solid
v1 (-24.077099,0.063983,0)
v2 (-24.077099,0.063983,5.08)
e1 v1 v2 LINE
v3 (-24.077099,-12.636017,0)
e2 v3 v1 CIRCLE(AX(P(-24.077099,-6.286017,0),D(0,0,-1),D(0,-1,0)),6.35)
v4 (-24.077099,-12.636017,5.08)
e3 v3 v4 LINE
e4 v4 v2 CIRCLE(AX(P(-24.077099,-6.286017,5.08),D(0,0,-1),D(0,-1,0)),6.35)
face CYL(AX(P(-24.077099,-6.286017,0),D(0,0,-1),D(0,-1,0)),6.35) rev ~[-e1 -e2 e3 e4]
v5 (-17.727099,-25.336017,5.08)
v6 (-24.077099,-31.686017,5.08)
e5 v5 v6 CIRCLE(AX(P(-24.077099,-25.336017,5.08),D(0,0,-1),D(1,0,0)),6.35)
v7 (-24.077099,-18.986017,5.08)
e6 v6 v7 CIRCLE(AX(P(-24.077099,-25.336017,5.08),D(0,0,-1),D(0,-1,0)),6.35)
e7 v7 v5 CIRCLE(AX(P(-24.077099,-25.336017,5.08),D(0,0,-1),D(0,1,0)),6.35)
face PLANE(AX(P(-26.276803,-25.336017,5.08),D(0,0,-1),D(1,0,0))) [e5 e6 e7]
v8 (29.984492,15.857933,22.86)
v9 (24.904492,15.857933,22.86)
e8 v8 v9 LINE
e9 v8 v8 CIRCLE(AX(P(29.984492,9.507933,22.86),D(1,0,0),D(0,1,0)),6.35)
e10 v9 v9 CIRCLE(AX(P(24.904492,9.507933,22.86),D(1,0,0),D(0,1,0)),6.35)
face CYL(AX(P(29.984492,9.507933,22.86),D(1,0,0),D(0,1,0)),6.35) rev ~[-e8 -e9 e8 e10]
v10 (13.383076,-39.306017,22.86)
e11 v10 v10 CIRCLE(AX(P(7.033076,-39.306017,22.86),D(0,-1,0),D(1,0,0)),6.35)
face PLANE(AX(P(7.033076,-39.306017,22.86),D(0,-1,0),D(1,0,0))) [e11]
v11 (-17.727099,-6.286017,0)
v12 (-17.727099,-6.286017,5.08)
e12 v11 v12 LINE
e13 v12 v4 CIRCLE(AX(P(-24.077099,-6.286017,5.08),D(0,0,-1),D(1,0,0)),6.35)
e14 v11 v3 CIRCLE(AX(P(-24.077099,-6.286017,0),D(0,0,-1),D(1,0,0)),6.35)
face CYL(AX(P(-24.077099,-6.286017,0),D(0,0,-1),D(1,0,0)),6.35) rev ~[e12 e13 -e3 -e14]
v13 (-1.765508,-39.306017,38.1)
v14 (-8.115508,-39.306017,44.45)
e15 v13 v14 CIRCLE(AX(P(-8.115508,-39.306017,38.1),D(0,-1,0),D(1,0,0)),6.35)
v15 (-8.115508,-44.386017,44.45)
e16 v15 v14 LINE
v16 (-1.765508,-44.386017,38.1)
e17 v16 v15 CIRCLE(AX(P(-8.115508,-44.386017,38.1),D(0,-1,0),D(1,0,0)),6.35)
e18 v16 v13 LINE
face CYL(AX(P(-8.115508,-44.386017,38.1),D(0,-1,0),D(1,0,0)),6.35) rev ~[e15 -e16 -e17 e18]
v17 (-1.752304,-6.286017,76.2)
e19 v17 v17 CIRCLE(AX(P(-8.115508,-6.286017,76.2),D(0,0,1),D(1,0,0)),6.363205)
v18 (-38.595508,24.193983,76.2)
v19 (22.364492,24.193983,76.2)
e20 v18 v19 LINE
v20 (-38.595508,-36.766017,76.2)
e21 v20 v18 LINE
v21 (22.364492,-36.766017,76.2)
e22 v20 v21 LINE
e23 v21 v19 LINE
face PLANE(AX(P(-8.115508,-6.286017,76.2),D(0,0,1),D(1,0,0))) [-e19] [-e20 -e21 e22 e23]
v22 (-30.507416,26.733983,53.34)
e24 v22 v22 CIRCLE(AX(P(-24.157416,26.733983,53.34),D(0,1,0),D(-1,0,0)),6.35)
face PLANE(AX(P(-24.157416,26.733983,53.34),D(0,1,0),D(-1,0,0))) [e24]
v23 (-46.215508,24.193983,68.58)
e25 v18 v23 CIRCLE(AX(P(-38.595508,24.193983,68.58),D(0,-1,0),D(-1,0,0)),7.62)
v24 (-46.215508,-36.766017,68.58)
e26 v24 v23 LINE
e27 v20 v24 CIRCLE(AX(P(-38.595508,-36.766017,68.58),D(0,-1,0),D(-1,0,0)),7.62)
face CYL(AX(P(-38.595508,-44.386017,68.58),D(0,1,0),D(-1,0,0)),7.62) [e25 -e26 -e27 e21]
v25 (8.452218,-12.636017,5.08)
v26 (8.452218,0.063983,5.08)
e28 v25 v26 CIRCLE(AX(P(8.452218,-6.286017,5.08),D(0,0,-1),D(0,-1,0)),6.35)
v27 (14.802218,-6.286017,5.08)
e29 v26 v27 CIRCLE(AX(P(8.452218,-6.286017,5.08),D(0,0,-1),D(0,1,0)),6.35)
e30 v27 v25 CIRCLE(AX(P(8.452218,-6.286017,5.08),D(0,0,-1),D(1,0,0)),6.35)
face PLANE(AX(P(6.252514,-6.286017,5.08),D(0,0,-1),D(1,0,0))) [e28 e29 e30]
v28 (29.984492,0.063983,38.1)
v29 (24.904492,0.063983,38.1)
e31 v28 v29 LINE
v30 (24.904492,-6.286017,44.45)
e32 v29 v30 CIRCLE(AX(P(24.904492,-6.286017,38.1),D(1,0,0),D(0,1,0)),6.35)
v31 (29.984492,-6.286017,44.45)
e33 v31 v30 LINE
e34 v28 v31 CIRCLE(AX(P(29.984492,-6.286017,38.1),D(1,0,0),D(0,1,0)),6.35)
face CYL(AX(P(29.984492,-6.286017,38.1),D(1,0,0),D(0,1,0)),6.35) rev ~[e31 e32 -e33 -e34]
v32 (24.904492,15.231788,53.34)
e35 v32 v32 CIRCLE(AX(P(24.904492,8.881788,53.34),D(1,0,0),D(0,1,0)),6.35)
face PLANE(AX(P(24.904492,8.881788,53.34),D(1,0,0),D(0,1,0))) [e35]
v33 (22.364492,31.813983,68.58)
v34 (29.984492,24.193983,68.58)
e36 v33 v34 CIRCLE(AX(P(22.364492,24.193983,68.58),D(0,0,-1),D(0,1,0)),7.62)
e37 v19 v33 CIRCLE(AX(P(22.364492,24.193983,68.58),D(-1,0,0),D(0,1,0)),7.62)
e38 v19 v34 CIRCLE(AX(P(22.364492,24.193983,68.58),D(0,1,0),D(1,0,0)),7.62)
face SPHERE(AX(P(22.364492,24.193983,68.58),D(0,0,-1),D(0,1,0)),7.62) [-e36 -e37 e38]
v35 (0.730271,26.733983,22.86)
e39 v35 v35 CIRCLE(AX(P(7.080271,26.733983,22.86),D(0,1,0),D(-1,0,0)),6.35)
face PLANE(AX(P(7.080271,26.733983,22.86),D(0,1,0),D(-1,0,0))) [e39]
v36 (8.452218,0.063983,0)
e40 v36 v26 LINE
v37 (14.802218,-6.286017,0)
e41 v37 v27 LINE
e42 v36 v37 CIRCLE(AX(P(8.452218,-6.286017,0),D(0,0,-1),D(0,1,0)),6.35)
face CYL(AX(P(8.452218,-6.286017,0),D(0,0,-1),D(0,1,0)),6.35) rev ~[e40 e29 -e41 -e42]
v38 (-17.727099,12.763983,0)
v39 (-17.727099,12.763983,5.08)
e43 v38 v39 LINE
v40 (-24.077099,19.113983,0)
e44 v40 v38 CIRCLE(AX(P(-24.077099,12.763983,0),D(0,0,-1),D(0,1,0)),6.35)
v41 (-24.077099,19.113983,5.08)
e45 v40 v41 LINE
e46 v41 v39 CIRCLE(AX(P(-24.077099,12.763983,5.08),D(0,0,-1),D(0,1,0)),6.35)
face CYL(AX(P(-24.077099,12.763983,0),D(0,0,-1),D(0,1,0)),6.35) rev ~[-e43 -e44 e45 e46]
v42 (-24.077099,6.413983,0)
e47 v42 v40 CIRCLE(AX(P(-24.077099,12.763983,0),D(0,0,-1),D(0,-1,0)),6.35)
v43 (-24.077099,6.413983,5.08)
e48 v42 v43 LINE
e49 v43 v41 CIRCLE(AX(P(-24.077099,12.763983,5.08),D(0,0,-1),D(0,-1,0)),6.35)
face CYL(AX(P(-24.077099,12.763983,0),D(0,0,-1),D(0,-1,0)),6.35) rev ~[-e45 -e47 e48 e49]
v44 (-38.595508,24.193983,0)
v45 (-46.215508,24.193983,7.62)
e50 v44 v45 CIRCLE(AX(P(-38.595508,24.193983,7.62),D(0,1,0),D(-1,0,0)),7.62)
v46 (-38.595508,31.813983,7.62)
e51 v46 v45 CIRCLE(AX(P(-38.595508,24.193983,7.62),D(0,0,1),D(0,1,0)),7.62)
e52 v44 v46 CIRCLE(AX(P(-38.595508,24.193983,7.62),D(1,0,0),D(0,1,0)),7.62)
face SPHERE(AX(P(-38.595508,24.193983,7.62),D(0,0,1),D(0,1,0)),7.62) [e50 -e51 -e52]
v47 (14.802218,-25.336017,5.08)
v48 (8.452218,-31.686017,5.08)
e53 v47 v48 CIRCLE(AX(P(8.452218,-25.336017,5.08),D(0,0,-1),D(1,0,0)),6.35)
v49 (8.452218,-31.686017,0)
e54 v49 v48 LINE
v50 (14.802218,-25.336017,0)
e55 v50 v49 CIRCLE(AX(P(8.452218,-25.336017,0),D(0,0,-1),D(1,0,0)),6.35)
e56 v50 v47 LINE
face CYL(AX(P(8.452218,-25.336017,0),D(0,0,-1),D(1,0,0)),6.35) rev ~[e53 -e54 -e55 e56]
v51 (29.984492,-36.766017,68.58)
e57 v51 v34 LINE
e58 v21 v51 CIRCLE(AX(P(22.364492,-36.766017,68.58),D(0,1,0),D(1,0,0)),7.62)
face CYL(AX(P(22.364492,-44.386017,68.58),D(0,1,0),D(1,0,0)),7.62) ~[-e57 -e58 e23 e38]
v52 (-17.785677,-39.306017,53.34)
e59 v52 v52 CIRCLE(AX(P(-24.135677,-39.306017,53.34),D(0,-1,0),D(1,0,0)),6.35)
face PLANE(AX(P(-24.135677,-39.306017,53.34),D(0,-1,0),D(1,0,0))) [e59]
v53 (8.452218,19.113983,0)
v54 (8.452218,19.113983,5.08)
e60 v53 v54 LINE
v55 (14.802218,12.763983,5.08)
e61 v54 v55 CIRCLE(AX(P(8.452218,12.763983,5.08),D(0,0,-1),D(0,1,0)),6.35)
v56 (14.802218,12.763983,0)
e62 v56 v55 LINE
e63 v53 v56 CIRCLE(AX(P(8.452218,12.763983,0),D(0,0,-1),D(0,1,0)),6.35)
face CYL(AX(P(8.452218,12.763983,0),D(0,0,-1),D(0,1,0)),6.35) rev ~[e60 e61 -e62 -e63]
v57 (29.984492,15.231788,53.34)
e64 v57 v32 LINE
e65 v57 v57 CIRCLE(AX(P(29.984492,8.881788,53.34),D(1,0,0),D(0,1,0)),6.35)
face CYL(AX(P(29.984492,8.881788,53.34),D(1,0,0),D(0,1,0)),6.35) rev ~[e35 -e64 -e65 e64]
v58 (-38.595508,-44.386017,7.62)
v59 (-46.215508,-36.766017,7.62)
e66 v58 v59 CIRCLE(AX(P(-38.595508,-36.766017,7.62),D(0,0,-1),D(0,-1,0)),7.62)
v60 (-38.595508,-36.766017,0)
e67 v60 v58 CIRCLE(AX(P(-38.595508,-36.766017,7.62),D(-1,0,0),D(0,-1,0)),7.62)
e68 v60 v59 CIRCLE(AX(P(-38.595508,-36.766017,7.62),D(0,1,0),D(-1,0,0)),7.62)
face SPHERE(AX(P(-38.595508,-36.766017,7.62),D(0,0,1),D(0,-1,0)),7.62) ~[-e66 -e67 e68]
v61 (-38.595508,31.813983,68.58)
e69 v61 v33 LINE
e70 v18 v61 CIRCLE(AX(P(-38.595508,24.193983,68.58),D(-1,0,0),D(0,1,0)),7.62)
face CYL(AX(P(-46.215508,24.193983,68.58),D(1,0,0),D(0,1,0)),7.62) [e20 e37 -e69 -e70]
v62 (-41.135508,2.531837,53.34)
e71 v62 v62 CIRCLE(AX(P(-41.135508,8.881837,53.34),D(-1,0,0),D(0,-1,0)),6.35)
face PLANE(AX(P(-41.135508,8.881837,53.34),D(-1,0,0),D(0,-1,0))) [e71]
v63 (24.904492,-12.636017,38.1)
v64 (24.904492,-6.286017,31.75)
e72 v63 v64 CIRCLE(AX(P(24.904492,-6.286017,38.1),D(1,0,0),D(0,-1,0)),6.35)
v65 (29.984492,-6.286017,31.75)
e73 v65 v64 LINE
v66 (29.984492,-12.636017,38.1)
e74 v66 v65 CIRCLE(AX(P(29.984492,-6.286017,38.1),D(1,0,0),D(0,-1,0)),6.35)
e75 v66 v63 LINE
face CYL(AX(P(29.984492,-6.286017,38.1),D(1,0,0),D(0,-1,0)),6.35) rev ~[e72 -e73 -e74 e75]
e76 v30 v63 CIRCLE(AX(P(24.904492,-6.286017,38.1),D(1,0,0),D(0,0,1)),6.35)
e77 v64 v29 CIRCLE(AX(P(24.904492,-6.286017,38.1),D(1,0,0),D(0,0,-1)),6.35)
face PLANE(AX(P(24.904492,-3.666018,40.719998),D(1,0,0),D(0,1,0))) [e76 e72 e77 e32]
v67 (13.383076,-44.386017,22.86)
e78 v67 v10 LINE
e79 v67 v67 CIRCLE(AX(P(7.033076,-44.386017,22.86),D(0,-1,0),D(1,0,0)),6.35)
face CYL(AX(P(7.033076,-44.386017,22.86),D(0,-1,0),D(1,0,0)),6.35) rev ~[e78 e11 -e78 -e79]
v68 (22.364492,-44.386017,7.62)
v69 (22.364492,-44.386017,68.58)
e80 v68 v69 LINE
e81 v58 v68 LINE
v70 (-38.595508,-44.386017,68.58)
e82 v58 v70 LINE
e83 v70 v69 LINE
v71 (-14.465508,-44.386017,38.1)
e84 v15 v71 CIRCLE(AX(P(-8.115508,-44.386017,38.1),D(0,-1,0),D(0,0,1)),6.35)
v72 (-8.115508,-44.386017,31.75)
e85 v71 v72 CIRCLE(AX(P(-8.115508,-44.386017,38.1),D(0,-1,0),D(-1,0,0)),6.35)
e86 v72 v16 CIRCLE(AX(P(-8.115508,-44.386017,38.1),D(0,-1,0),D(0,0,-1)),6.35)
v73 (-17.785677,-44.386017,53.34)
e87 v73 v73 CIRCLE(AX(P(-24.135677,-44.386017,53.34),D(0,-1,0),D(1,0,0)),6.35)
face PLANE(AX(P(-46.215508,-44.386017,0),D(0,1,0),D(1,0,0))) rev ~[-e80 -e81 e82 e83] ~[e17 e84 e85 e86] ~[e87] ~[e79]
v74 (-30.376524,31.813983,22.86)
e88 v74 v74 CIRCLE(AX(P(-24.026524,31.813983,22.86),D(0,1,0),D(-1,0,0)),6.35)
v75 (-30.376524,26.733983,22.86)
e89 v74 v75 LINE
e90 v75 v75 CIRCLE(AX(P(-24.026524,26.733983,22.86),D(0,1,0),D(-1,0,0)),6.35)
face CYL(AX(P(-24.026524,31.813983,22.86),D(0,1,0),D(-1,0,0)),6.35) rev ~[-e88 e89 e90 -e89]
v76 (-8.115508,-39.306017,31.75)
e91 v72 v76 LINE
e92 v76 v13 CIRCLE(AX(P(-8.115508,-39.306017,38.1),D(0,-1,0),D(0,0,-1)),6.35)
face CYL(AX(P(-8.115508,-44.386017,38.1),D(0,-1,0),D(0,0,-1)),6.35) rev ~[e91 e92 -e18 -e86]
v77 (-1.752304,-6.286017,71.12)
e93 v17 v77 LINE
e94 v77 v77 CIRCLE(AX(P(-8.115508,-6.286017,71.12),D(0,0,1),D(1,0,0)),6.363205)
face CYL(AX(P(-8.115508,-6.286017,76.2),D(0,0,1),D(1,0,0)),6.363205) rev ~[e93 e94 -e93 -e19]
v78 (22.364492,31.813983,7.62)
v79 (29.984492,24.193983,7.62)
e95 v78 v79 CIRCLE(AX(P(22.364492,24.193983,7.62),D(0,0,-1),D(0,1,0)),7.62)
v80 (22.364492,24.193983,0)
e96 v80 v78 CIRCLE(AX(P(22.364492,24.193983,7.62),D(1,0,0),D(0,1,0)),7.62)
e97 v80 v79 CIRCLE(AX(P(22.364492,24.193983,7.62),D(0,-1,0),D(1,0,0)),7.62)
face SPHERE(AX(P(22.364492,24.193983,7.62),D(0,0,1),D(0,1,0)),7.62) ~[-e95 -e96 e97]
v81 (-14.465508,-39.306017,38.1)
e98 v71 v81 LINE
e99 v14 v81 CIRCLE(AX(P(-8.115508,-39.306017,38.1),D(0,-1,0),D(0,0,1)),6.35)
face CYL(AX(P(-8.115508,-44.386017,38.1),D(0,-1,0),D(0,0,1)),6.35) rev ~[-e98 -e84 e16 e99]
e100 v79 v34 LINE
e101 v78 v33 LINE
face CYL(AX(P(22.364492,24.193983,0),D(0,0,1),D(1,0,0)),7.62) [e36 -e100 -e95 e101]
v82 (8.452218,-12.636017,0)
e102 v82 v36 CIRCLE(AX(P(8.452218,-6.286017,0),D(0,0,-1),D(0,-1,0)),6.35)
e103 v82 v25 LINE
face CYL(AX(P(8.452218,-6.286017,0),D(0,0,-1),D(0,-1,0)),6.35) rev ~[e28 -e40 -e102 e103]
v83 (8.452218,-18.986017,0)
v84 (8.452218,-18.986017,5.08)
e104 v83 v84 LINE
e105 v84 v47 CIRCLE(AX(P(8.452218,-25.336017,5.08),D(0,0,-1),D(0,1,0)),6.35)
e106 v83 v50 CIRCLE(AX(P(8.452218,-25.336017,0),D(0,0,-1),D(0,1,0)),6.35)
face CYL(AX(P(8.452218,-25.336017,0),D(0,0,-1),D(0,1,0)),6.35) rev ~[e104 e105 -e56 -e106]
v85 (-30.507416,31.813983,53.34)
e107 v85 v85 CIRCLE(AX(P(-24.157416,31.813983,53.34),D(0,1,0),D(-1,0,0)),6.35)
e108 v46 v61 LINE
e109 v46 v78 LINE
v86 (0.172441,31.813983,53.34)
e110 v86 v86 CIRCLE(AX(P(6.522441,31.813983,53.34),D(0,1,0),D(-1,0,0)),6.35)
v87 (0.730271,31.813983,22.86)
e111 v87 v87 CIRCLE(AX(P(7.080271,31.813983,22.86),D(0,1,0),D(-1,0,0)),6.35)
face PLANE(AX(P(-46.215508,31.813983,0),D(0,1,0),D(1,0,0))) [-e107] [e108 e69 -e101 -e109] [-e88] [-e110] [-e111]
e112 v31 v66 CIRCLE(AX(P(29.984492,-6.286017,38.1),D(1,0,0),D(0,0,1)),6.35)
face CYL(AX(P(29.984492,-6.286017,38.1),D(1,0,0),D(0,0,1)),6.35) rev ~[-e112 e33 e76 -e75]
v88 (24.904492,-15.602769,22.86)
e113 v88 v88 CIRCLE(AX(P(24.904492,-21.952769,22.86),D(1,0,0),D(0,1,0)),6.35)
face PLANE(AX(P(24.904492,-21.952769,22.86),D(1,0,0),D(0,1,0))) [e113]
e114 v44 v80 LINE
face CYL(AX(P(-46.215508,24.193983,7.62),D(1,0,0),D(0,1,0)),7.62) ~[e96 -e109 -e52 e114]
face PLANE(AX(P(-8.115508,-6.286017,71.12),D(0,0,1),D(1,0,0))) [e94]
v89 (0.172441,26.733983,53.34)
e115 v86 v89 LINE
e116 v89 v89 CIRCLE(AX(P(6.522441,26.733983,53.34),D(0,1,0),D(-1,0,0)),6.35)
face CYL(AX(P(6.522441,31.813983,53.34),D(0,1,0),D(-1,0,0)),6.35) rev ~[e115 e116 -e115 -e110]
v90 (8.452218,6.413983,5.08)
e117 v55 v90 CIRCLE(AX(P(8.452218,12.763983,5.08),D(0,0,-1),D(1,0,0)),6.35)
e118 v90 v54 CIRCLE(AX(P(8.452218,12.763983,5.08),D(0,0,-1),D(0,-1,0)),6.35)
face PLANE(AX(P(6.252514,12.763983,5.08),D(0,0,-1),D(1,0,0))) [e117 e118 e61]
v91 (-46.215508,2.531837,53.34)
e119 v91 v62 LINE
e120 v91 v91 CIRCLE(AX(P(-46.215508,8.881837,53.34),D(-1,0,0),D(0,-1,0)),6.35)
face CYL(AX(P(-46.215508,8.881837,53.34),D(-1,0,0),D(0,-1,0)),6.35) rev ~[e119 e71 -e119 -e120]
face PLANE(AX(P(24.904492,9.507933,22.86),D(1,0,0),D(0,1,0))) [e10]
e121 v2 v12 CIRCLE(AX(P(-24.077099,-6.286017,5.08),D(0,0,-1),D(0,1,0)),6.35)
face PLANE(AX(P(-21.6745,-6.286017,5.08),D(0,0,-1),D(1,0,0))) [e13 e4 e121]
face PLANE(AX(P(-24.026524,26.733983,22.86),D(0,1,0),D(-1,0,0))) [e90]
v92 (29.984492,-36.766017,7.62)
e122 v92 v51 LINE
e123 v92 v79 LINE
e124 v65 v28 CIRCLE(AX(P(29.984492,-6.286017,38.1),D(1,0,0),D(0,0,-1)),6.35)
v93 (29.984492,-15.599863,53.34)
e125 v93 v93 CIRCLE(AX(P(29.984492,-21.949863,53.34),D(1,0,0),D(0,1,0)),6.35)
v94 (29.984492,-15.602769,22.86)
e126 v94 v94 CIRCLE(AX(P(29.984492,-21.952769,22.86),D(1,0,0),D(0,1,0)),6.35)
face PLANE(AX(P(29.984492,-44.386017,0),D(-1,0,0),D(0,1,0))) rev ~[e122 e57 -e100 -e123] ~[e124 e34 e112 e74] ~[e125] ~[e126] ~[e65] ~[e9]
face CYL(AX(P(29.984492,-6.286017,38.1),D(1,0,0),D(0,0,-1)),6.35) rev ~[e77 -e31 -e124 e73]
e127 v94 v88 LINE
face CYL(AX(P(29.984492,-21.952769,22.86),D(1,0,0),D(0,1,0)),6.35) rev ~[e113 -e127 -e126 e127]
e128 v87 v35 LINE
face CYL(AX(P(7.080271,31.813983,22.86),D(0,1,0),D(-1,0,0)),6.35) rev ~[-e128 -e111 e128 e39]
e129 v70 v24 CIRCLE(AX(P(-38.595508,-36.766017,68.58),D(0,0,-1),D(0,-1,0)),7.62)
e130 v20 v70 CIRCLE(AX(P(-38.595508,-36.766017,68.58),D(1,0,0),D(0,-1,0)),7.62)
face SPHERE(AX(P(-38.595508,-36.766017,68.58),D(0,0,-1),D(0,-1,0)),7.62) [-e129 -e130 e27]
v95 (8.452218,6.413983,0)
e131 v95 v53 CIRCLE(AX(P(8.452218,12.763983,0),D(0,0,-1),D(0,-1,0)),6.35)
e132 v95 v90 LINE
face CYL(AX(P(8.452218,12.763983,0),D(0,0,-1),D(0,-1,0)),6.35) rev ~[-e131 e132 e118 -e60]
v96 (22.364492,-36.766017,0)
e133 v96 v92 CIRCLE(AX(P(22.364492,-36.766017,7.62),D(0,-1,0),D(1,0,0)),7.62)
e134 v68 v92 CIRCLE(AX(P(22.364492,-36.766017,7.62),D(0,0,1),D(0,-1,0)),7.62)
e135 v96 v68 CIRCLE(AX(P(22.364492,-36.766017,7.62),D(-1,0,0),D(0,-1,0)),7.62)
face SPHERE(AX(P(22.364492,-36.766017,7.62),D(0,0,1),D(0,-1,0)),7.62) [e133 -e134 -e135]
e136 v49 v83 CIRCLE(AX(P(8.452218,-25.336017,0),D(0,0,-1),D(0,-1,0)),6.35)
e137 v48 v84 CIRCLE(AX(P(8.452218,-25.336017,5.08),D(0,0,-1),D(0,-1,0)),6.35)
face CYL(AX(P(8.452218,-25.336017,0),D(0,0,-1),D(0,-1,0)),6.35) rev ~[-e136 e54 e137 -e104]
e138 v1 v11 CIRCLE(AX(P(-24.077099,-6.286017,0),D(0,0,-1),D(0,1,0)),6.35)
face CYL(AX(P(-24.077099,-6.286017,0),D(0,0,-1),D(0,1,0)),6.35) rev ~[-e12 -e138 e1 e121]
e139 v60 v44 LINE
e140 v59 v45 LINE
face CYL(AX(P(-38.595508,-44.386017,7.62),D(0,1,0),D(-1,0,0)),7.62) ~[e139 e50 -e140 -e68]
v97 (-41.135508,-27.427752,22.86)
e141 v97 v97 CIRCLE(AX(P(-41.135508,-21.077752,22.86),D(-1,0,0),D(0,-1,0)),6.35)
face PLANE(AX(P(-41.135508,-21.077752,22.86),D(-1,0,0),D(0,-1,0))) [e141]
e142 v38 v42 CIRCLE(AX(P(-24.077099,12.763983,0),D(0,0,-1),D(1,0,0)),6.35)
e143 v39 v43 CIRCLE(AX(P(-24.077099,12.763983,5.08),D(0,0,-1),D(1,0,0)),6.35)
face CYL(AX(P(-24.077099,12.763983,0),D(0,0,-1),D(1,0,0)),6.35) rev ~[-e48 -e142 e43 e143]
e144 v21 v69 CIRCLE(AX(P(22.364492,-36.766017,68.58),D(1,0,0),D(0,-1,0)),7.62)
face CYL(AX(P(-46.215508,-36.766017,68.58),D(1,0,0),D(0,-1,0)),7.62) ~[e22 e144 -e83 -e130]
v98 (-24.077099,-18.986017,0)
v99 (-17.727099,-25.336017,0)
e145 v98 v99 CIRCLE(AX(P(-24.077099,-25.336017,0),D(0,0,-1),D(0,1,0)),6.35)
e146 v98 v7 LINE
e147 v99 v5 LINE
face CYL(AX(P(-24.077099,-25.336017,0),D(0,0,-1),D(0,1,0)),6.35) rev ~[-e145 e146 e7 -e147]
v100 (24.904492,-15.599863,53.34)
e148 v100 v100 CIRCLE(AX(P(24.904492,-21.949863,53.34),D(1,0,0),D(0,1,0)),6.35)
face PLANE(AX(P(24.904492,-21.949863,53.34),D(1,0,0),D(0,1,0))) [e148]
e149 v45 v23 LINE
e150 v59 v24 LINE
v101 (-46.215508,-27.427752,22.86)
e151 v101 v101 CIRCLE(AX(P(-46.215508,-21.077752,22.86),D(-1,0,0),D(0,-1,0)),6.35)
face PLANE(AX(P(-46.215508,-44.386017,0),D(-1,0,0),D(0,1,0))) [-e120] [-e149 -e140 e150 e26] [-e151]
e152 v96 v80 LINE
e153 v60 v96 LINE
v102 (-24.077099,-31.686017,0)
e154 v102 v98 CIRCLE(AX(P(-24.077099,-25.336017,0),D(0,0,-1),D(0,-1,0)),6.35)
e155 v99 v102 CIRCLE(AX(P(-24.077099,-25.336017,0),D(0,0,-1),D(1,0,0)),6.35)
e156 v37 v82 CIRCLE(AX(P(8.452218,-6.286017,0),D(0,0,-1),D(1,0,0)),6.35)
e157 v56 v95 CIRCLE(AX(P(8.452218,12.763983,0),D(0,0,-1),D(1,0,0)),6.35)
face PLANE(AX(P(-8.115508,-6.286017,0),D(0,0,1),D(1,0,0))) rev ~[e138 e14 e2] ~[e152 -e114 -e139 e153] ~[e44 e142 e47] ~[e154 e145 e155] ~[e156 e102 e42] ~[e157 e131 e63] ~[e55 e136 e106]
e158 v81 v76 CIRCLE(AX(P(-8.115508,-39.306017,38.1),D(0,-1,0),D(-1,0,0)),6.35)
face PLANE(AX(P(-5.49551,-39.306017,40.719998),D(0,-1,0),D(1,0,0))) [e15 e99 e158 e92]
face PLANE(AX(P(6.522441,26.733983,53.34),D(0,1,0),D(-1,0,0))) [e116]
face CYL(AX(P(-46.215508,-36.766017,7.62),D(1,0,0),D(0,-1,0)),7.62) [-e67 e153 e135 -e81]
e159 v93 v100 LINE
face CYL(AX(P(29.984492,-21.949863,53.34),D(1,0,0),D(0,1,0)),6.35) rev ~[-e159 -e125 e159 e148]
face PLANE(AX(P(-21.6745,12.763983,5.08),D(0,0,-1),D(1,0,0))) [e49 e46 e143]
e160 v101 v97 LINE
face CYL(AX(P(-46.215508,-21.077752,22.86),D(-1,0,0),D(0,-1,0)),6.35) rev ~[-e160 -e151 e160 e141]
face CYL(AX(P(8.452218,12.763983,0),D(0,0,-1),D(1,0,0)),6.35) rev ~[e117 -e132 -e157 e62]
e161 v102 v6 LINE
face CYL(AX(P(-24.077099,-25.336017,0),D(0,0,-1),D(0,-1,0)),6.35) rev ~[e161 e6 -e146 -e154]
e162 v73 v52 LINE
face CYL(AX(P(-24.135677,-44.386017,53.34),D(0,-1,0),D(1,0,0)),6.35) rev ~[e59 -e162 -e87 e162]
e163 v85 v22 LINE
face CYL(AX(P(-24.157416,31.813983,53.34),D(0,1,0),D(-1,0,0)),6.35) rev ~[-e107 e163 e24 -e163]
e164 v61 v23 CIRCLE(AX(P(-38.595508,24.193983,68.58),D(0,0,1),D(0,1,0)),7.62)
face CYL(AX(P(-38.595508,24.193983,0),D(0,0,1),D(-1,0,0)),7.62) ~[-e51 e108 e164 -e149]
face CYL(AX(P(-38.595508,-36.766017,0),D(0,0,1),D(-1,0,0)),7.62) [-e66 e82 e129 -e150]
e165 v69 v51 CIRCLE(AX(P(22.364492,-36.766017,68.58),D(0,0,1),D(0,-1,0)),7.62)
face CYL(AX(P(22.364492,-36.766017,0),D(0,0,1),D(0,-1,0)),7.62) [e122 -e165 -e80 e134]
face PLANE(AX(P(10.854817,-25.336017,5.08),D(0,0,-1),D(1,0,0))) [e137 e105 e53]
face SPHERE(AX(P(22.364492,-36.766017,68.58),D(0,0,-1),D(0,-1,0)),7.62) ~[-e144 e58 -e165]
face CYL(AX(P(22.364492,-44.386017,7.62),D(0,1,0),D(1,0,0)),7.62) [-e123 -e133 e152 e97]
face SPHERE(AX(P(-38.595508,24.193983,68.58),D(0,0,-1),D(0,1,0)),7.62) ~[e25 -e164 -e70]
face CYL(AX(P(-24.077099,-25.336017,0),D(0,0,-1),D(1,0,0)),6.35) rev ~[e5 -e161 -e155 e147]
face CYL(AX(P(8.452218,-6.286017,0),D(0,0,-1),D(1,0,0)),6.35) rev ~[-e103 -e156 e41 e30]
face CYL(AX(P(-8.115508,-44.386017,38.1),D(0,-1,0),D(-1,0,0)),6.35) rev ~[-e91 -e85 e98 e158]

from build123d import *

# Parameters (mm, degrees)
F0_W      = 76.2
F0_H      = 76.2
F1_DEPTH  = 76.2
F2_R      = 7.62
F3_R      = 6.3632045514
F4_DEPTH  = 5.08
F6_DEPTH  = 5.08
F7_DEPTH  = 5.08
F9_R      = 6.35
F10_DEPTH = 5.08
F11_R     = 6.35
F12_DEPTH = 5.08
F13_R     = 6.35
F14_DEPTH = 5.08
F15_R     = 6.35
F16_DEPTH = 5.08


with BuildPart() as f1:
    # F0 (on Top) → F1 (new body)
    with BuildSketch(Plane.XY):
        with Locations((-8.1155080592, -6.2860166654)):
            Rectangle(F0_W, F0_H)
    extrude(amount=F1_DEPTH)

    # F2
    f2_edges = [f1.edges().sort_by_distance(p)[0] for p in [
        (-46.215508, 31.813983, 38.1),
        (29.984492, 31.813983, 38.1),
        (29.984492, -44.386017, 38.1),
        (-46.215508, -44.386017, 38.1),
        (-8.115508, 31.813983, 0),
        (-8.115508, 31.813983, 76.2),
        (-8.115508, -44.386017, 0),
        (-8.115508, -44.386017, 76.2),
        (29.984492, -6.286017, 0),
        (29.984492, -6.286017, 76.2),
        (-46.215508, -6.286017, 0),
        (-46.215508, -6.286017, 76.2),
    ]]
    fillet(f2_edges, radius=F2_R)

    # F3 (on face) → F4 (cut)
    with BuildSketch(Plane.XY.offset(76.2)):
        with Locations((-8.1155080592, -6.2860166654)):
            Circle(F3_R)
    extrude(amount=-F4_DEPTH, mode=Mode.SUBTRACT)

    # F5 (on face) → F6 (cut)
    with BuildSketch(Plane(origin=(0, 0, 0), x_dir=(1, 0, 0), z_dir=(0, 0, -1))):
        with BuildLine():
            ThreePointArc((-17.7270988166, 6.2860166654), (-19.5869707561, 10.7761447259), (-24.0770988166, 12.6360166654))
            Line((-24.0770988166, 12.6360166654), (-24.0770988166, -0.0639833346))
            ThreePointArc((-24.0770988166, -0.0639833346), (-19.5869707561, 1.7958886049), (-17.7270988166, 6.2860166654))
        make_face()
        with BuildLine():
            Line((-24.0770988166, -0.0639833346), (-24.0770988166, 12.6360166654))
            ThreePointArc((-24.0770988166, 12.6360166654), (-30.4270988166, 6.2860166654), (-24.0770988166, -0.0639833346))
        make_face()
        with BuildLine():
            ThreePointArc((14.8022180259, 25.3360166654), (12.9423460865, 29.8261447259), (8.4522180259, 31.6860166654))
            Line((8.4522180259, 31.6860166654), (8.4522180259, 18.9860166654))
            ThreePointArc((8.4522180259, 18.9860166654), (12.9423460865, 20.8458886049), (14.8022180259, 25.3360166654))
        make_face()
        with BuildLine():
            Line((8.4522180259, 18.9860166654), (8.4522180259, 31.6860166654))
            ThreePointArc((8.4522180259, 31.6860166654), (2.1022180259, 25.3360166654), (8.4522180259, 18.9860166654))
        make_face()
        with BuildLine():
            Line((8.4522180259, -0.0639833346), (8.4522180259, 12.6360166654))
            ThreePointArc((8.4522180259, 12.6360166654), (2.1022180259, 6.2860166654), (8.4522180259, -0.0639833346))
        make_face()
        with BuildLine():
            ThreePointArc((14.8022180259, 6.2860166654), (12.9423460865, 10.7761447259), (8.4522180259, 12.6360166654))
            Line((8.4522180259, 12.6360166654), (8.4522180259, -0.0639833346))
            ThreePointArc((8.4522180259, -0.0639833346), (12.9423460865, 1.7958886049), (14.8022180259, 6.2860166654))
        make_face()
        with BuildLine():
            Line((-24.0770988166, 18.9860166654), (-24.0770988166, 31.6860166654))
            ThreePointArc((-24.0770988166, 31.6860166654), (-30.4270988166, 25.3360166654), (-24.0770988166, 18.9860166654))
        make_face()
        with BuildLine():
            ThreePointArc((8.4522180259, -6.4139833346), (2.1022180259, -12.7639833346), (8.4522180259, -19.1139833346))
            Line((8.4522180259, -19.1139833346), (8.4522180259, -6.4139833346))
        make_face()
        with BuildLine():
            Line((8.4522180259, -6.4139833346), (8.4522180259, -19.1139833346))
            ThreePointArc((8.4522180259, -19.1139833346), (12.9423460865, -17.2541113951), (14.8022180259, -12.7639833346))
            ThreePointArc((14.8022180259, -12.7639833346), (12.9423460865, -8.2738552741), (8.4522180259, -6.4139833346))
        make_face()
        with BuildLine():
            Line((-24.0770988166, -6.4139833346), (-24.0770988166, -19.1139833346))
            ThreePointArc((-24.0770988166, -19.1139833346), (-19.5869707561, -17.2541113951), (-17.7270988166, -12.7639833346))
            ThreePointArc((-17.7270988166, -12.7639833346), (-19.5869707561, -8.2738552741), (-24.0770988166, -6.4139833346))
        make_face()
        with BuildLine():
            ThreePointArc((-24.0770988166, -6.4139833346), (-30.4270988166, -12.7639833346), (-24.0770988166, -19.1139833346))
            Line((-24.0770988166, -19.1139833346), (-24.0770988166, -6.4139833346))
        make_face()
        with BuildLine():
            ThreePointArc((-17.7270988166, 25.3360166654), (-19.5869707561, 29.8261447259), (-24.0770988166, 31.6860166654))
            Line((-24.0770988166, 31.6860166654), (-24.0770988166, 18.9860166654))
            ThreePointArc((-24.0770988166, 18.9860166654), (-19.5869707561, 20.8458886049), (-17.7270988166, 25.3360166654))
        make_face()
    extrude(amount=-F6_DEPTH, mode=Mode.SUBTRACT)

    # F7 (add): a face of the model
    f7_faces = [f1.faces().sort_by_distance(p)[0] for p in [
        (-46.2155080592, -6.2860166654, 38.1),
    ]]
    extrude(f7_faces, amount=-F7_DEPTH)

    # F9 (on face) → F10 (cut)
    with BuildSketch(Plane(origin=(-46.2155080592, 0, 0), x_dir=(0, -1, 0), z_dir=(-1, 0, 0))):
        with Locations((-8.8818371296, 53.34)):
            Circle(F9_R)
        with Locations((21.0777521133, 22.86)):
            Circle(F9_R)
    extrude(amount=-F10_DEPTH, mode=Mode.SUBTRACT)

    # F11 (on face) → F12 (cut)
    with BuildSketch(Plane.YZ.offset(29.9844919408)):
        with Locations((-21.9498630613, 53.34)):
            Circle(F11_R)
        with BuildLine():
            ThreePointArc((0.0639833346, 38.1), (-1.7958886049, 42.5901280605), (-6.2860166654, 44.45))
            Line((-6.2860166654, 44.45), (-6.2860166654, 38.1))
            Line((-6.2860166654, 38.1), (0.0639833346, 38.1))
        make_face()
        with BuildLine():
            ThreePointArc((-6.2860166654, 31.75), (-1.7958886049, 33.6098719395), (0.0639833346, 38.1))
            Line((0.0639833346, 38.1), (-6.2860166654, 38.1))
            Line((-6.2860166654, 38.1), (-6.2860166654, 31.75))
        make_face()
        with BuildLine():
            Line((-6.2860166654, 31.75), (-6.2860166654, 38.1))
            Line((-6.2860166654, 38.1), (-12.6360166654, 38.1))
            ThreePointArc((-12.6360166654, 38.1), (-10.7761447259, 33.6098719395), (-6.2860166654, 31.75))
        make_face()
        with BuildLine():
            Line((-6.2860166654, 38.1), (-6.2860166654, 44.45))
            ThreePointArc((-6.2860166654, 44.45), (-10.7761447259, 42.5901280605), (-12.6360166654, 38.1))
            Line((-12.6360166654, 38.1), (-6.2860166654, 38.1))
        make_face()
        with Locations((8.8817877695, 53.34)):
            Circle(F11_R)
        with Locations((9.5079327002, 22.86)):
            Circle(F11_R)
        with Locations((-21.9527687877, 22.86)):
            Circle(F11_R)
    extrude(amount=-F12_DEPTH, mode=Mode.SUBTRACT)

    # F13 (on face) → F14 (cut)
    with BuildSketch(Plane.XZ.offset(44.3860166654)):
        with Locations((-24.1356771439, 53.34)):
            Circle(F13_R)
        with BuildLine():
            ThreePointArc((-1.7655080592, 38.1), (-3.6253799987, 42.5901280605), (-8.1155080592, 44.45))
            Line((-8.1155080592, 44.45), (-8.1155080592, 38.1))
            Line((-8.1155080592, 38.1), (-1.7655080592, 38.1))
        make_face()
        with BuildLine():
            ThreePointArc((-8.1155080592, 31.75), (-3.6253799987, 33.6098719395), (-1.7655080592, 38.1))
            Line((-1.7655080592, 38.1), (-8.1155080592, 38.1))
            Line((-8.1155080592, 38.1), (-8.1155080592, 31.75))
        make_face()
        with BuildLine():
            Line((-8.1155080592, 31.75), (-8.1155080592, 38.1))
            Line((-8.1155080592, 38.1), (-14.4655080592, 38.1))
            ThreePointArc((-14.4655080592, 38.1), (-12.6056361198, 33.6098719395), (-8.1155080592, 31.75))
        make_face()
        with BuildLine():
            Line((-8.1155080592, 38.1), (-8.1155080592, 44.45))
            ThreePointArc((-8.1155080592, 44.45), (-12.6056361198, 42.5901280605), (-14.4655080592, 38.1))
            Line((-14.4655080592, 38.1), (-8.1155080592, 38.1))
        make_face()
        with Locations((7.0330761373, 22.86)):
            Circle(F13_R)
    extrude(amount=-F14_DEPTH, mode=Mode.SUBTRACT)

    # F15 (on face) → F16 (cut)
    with BuildSketch(Plane(origin=(0, 31.8139833346, 0), x_dir=(-1, 0, 0), z_dir=(0, 1, 0))):
        with Locations((24.0265242755, 22.86)):
            Circle(F15_R)
        with Locations((24.1574160755, 53.34)):
            Circle(F15_R)
        with Locations((-6.5224412829, 53.34)):
            Circle(F15_R)
        with Locations((-7.0802713744, 22.86)):
            Circle(F15_R)
    extrude(amount=-F16_DEPTH, mode=Mode.SUBTRACT)


solid = f1.part
